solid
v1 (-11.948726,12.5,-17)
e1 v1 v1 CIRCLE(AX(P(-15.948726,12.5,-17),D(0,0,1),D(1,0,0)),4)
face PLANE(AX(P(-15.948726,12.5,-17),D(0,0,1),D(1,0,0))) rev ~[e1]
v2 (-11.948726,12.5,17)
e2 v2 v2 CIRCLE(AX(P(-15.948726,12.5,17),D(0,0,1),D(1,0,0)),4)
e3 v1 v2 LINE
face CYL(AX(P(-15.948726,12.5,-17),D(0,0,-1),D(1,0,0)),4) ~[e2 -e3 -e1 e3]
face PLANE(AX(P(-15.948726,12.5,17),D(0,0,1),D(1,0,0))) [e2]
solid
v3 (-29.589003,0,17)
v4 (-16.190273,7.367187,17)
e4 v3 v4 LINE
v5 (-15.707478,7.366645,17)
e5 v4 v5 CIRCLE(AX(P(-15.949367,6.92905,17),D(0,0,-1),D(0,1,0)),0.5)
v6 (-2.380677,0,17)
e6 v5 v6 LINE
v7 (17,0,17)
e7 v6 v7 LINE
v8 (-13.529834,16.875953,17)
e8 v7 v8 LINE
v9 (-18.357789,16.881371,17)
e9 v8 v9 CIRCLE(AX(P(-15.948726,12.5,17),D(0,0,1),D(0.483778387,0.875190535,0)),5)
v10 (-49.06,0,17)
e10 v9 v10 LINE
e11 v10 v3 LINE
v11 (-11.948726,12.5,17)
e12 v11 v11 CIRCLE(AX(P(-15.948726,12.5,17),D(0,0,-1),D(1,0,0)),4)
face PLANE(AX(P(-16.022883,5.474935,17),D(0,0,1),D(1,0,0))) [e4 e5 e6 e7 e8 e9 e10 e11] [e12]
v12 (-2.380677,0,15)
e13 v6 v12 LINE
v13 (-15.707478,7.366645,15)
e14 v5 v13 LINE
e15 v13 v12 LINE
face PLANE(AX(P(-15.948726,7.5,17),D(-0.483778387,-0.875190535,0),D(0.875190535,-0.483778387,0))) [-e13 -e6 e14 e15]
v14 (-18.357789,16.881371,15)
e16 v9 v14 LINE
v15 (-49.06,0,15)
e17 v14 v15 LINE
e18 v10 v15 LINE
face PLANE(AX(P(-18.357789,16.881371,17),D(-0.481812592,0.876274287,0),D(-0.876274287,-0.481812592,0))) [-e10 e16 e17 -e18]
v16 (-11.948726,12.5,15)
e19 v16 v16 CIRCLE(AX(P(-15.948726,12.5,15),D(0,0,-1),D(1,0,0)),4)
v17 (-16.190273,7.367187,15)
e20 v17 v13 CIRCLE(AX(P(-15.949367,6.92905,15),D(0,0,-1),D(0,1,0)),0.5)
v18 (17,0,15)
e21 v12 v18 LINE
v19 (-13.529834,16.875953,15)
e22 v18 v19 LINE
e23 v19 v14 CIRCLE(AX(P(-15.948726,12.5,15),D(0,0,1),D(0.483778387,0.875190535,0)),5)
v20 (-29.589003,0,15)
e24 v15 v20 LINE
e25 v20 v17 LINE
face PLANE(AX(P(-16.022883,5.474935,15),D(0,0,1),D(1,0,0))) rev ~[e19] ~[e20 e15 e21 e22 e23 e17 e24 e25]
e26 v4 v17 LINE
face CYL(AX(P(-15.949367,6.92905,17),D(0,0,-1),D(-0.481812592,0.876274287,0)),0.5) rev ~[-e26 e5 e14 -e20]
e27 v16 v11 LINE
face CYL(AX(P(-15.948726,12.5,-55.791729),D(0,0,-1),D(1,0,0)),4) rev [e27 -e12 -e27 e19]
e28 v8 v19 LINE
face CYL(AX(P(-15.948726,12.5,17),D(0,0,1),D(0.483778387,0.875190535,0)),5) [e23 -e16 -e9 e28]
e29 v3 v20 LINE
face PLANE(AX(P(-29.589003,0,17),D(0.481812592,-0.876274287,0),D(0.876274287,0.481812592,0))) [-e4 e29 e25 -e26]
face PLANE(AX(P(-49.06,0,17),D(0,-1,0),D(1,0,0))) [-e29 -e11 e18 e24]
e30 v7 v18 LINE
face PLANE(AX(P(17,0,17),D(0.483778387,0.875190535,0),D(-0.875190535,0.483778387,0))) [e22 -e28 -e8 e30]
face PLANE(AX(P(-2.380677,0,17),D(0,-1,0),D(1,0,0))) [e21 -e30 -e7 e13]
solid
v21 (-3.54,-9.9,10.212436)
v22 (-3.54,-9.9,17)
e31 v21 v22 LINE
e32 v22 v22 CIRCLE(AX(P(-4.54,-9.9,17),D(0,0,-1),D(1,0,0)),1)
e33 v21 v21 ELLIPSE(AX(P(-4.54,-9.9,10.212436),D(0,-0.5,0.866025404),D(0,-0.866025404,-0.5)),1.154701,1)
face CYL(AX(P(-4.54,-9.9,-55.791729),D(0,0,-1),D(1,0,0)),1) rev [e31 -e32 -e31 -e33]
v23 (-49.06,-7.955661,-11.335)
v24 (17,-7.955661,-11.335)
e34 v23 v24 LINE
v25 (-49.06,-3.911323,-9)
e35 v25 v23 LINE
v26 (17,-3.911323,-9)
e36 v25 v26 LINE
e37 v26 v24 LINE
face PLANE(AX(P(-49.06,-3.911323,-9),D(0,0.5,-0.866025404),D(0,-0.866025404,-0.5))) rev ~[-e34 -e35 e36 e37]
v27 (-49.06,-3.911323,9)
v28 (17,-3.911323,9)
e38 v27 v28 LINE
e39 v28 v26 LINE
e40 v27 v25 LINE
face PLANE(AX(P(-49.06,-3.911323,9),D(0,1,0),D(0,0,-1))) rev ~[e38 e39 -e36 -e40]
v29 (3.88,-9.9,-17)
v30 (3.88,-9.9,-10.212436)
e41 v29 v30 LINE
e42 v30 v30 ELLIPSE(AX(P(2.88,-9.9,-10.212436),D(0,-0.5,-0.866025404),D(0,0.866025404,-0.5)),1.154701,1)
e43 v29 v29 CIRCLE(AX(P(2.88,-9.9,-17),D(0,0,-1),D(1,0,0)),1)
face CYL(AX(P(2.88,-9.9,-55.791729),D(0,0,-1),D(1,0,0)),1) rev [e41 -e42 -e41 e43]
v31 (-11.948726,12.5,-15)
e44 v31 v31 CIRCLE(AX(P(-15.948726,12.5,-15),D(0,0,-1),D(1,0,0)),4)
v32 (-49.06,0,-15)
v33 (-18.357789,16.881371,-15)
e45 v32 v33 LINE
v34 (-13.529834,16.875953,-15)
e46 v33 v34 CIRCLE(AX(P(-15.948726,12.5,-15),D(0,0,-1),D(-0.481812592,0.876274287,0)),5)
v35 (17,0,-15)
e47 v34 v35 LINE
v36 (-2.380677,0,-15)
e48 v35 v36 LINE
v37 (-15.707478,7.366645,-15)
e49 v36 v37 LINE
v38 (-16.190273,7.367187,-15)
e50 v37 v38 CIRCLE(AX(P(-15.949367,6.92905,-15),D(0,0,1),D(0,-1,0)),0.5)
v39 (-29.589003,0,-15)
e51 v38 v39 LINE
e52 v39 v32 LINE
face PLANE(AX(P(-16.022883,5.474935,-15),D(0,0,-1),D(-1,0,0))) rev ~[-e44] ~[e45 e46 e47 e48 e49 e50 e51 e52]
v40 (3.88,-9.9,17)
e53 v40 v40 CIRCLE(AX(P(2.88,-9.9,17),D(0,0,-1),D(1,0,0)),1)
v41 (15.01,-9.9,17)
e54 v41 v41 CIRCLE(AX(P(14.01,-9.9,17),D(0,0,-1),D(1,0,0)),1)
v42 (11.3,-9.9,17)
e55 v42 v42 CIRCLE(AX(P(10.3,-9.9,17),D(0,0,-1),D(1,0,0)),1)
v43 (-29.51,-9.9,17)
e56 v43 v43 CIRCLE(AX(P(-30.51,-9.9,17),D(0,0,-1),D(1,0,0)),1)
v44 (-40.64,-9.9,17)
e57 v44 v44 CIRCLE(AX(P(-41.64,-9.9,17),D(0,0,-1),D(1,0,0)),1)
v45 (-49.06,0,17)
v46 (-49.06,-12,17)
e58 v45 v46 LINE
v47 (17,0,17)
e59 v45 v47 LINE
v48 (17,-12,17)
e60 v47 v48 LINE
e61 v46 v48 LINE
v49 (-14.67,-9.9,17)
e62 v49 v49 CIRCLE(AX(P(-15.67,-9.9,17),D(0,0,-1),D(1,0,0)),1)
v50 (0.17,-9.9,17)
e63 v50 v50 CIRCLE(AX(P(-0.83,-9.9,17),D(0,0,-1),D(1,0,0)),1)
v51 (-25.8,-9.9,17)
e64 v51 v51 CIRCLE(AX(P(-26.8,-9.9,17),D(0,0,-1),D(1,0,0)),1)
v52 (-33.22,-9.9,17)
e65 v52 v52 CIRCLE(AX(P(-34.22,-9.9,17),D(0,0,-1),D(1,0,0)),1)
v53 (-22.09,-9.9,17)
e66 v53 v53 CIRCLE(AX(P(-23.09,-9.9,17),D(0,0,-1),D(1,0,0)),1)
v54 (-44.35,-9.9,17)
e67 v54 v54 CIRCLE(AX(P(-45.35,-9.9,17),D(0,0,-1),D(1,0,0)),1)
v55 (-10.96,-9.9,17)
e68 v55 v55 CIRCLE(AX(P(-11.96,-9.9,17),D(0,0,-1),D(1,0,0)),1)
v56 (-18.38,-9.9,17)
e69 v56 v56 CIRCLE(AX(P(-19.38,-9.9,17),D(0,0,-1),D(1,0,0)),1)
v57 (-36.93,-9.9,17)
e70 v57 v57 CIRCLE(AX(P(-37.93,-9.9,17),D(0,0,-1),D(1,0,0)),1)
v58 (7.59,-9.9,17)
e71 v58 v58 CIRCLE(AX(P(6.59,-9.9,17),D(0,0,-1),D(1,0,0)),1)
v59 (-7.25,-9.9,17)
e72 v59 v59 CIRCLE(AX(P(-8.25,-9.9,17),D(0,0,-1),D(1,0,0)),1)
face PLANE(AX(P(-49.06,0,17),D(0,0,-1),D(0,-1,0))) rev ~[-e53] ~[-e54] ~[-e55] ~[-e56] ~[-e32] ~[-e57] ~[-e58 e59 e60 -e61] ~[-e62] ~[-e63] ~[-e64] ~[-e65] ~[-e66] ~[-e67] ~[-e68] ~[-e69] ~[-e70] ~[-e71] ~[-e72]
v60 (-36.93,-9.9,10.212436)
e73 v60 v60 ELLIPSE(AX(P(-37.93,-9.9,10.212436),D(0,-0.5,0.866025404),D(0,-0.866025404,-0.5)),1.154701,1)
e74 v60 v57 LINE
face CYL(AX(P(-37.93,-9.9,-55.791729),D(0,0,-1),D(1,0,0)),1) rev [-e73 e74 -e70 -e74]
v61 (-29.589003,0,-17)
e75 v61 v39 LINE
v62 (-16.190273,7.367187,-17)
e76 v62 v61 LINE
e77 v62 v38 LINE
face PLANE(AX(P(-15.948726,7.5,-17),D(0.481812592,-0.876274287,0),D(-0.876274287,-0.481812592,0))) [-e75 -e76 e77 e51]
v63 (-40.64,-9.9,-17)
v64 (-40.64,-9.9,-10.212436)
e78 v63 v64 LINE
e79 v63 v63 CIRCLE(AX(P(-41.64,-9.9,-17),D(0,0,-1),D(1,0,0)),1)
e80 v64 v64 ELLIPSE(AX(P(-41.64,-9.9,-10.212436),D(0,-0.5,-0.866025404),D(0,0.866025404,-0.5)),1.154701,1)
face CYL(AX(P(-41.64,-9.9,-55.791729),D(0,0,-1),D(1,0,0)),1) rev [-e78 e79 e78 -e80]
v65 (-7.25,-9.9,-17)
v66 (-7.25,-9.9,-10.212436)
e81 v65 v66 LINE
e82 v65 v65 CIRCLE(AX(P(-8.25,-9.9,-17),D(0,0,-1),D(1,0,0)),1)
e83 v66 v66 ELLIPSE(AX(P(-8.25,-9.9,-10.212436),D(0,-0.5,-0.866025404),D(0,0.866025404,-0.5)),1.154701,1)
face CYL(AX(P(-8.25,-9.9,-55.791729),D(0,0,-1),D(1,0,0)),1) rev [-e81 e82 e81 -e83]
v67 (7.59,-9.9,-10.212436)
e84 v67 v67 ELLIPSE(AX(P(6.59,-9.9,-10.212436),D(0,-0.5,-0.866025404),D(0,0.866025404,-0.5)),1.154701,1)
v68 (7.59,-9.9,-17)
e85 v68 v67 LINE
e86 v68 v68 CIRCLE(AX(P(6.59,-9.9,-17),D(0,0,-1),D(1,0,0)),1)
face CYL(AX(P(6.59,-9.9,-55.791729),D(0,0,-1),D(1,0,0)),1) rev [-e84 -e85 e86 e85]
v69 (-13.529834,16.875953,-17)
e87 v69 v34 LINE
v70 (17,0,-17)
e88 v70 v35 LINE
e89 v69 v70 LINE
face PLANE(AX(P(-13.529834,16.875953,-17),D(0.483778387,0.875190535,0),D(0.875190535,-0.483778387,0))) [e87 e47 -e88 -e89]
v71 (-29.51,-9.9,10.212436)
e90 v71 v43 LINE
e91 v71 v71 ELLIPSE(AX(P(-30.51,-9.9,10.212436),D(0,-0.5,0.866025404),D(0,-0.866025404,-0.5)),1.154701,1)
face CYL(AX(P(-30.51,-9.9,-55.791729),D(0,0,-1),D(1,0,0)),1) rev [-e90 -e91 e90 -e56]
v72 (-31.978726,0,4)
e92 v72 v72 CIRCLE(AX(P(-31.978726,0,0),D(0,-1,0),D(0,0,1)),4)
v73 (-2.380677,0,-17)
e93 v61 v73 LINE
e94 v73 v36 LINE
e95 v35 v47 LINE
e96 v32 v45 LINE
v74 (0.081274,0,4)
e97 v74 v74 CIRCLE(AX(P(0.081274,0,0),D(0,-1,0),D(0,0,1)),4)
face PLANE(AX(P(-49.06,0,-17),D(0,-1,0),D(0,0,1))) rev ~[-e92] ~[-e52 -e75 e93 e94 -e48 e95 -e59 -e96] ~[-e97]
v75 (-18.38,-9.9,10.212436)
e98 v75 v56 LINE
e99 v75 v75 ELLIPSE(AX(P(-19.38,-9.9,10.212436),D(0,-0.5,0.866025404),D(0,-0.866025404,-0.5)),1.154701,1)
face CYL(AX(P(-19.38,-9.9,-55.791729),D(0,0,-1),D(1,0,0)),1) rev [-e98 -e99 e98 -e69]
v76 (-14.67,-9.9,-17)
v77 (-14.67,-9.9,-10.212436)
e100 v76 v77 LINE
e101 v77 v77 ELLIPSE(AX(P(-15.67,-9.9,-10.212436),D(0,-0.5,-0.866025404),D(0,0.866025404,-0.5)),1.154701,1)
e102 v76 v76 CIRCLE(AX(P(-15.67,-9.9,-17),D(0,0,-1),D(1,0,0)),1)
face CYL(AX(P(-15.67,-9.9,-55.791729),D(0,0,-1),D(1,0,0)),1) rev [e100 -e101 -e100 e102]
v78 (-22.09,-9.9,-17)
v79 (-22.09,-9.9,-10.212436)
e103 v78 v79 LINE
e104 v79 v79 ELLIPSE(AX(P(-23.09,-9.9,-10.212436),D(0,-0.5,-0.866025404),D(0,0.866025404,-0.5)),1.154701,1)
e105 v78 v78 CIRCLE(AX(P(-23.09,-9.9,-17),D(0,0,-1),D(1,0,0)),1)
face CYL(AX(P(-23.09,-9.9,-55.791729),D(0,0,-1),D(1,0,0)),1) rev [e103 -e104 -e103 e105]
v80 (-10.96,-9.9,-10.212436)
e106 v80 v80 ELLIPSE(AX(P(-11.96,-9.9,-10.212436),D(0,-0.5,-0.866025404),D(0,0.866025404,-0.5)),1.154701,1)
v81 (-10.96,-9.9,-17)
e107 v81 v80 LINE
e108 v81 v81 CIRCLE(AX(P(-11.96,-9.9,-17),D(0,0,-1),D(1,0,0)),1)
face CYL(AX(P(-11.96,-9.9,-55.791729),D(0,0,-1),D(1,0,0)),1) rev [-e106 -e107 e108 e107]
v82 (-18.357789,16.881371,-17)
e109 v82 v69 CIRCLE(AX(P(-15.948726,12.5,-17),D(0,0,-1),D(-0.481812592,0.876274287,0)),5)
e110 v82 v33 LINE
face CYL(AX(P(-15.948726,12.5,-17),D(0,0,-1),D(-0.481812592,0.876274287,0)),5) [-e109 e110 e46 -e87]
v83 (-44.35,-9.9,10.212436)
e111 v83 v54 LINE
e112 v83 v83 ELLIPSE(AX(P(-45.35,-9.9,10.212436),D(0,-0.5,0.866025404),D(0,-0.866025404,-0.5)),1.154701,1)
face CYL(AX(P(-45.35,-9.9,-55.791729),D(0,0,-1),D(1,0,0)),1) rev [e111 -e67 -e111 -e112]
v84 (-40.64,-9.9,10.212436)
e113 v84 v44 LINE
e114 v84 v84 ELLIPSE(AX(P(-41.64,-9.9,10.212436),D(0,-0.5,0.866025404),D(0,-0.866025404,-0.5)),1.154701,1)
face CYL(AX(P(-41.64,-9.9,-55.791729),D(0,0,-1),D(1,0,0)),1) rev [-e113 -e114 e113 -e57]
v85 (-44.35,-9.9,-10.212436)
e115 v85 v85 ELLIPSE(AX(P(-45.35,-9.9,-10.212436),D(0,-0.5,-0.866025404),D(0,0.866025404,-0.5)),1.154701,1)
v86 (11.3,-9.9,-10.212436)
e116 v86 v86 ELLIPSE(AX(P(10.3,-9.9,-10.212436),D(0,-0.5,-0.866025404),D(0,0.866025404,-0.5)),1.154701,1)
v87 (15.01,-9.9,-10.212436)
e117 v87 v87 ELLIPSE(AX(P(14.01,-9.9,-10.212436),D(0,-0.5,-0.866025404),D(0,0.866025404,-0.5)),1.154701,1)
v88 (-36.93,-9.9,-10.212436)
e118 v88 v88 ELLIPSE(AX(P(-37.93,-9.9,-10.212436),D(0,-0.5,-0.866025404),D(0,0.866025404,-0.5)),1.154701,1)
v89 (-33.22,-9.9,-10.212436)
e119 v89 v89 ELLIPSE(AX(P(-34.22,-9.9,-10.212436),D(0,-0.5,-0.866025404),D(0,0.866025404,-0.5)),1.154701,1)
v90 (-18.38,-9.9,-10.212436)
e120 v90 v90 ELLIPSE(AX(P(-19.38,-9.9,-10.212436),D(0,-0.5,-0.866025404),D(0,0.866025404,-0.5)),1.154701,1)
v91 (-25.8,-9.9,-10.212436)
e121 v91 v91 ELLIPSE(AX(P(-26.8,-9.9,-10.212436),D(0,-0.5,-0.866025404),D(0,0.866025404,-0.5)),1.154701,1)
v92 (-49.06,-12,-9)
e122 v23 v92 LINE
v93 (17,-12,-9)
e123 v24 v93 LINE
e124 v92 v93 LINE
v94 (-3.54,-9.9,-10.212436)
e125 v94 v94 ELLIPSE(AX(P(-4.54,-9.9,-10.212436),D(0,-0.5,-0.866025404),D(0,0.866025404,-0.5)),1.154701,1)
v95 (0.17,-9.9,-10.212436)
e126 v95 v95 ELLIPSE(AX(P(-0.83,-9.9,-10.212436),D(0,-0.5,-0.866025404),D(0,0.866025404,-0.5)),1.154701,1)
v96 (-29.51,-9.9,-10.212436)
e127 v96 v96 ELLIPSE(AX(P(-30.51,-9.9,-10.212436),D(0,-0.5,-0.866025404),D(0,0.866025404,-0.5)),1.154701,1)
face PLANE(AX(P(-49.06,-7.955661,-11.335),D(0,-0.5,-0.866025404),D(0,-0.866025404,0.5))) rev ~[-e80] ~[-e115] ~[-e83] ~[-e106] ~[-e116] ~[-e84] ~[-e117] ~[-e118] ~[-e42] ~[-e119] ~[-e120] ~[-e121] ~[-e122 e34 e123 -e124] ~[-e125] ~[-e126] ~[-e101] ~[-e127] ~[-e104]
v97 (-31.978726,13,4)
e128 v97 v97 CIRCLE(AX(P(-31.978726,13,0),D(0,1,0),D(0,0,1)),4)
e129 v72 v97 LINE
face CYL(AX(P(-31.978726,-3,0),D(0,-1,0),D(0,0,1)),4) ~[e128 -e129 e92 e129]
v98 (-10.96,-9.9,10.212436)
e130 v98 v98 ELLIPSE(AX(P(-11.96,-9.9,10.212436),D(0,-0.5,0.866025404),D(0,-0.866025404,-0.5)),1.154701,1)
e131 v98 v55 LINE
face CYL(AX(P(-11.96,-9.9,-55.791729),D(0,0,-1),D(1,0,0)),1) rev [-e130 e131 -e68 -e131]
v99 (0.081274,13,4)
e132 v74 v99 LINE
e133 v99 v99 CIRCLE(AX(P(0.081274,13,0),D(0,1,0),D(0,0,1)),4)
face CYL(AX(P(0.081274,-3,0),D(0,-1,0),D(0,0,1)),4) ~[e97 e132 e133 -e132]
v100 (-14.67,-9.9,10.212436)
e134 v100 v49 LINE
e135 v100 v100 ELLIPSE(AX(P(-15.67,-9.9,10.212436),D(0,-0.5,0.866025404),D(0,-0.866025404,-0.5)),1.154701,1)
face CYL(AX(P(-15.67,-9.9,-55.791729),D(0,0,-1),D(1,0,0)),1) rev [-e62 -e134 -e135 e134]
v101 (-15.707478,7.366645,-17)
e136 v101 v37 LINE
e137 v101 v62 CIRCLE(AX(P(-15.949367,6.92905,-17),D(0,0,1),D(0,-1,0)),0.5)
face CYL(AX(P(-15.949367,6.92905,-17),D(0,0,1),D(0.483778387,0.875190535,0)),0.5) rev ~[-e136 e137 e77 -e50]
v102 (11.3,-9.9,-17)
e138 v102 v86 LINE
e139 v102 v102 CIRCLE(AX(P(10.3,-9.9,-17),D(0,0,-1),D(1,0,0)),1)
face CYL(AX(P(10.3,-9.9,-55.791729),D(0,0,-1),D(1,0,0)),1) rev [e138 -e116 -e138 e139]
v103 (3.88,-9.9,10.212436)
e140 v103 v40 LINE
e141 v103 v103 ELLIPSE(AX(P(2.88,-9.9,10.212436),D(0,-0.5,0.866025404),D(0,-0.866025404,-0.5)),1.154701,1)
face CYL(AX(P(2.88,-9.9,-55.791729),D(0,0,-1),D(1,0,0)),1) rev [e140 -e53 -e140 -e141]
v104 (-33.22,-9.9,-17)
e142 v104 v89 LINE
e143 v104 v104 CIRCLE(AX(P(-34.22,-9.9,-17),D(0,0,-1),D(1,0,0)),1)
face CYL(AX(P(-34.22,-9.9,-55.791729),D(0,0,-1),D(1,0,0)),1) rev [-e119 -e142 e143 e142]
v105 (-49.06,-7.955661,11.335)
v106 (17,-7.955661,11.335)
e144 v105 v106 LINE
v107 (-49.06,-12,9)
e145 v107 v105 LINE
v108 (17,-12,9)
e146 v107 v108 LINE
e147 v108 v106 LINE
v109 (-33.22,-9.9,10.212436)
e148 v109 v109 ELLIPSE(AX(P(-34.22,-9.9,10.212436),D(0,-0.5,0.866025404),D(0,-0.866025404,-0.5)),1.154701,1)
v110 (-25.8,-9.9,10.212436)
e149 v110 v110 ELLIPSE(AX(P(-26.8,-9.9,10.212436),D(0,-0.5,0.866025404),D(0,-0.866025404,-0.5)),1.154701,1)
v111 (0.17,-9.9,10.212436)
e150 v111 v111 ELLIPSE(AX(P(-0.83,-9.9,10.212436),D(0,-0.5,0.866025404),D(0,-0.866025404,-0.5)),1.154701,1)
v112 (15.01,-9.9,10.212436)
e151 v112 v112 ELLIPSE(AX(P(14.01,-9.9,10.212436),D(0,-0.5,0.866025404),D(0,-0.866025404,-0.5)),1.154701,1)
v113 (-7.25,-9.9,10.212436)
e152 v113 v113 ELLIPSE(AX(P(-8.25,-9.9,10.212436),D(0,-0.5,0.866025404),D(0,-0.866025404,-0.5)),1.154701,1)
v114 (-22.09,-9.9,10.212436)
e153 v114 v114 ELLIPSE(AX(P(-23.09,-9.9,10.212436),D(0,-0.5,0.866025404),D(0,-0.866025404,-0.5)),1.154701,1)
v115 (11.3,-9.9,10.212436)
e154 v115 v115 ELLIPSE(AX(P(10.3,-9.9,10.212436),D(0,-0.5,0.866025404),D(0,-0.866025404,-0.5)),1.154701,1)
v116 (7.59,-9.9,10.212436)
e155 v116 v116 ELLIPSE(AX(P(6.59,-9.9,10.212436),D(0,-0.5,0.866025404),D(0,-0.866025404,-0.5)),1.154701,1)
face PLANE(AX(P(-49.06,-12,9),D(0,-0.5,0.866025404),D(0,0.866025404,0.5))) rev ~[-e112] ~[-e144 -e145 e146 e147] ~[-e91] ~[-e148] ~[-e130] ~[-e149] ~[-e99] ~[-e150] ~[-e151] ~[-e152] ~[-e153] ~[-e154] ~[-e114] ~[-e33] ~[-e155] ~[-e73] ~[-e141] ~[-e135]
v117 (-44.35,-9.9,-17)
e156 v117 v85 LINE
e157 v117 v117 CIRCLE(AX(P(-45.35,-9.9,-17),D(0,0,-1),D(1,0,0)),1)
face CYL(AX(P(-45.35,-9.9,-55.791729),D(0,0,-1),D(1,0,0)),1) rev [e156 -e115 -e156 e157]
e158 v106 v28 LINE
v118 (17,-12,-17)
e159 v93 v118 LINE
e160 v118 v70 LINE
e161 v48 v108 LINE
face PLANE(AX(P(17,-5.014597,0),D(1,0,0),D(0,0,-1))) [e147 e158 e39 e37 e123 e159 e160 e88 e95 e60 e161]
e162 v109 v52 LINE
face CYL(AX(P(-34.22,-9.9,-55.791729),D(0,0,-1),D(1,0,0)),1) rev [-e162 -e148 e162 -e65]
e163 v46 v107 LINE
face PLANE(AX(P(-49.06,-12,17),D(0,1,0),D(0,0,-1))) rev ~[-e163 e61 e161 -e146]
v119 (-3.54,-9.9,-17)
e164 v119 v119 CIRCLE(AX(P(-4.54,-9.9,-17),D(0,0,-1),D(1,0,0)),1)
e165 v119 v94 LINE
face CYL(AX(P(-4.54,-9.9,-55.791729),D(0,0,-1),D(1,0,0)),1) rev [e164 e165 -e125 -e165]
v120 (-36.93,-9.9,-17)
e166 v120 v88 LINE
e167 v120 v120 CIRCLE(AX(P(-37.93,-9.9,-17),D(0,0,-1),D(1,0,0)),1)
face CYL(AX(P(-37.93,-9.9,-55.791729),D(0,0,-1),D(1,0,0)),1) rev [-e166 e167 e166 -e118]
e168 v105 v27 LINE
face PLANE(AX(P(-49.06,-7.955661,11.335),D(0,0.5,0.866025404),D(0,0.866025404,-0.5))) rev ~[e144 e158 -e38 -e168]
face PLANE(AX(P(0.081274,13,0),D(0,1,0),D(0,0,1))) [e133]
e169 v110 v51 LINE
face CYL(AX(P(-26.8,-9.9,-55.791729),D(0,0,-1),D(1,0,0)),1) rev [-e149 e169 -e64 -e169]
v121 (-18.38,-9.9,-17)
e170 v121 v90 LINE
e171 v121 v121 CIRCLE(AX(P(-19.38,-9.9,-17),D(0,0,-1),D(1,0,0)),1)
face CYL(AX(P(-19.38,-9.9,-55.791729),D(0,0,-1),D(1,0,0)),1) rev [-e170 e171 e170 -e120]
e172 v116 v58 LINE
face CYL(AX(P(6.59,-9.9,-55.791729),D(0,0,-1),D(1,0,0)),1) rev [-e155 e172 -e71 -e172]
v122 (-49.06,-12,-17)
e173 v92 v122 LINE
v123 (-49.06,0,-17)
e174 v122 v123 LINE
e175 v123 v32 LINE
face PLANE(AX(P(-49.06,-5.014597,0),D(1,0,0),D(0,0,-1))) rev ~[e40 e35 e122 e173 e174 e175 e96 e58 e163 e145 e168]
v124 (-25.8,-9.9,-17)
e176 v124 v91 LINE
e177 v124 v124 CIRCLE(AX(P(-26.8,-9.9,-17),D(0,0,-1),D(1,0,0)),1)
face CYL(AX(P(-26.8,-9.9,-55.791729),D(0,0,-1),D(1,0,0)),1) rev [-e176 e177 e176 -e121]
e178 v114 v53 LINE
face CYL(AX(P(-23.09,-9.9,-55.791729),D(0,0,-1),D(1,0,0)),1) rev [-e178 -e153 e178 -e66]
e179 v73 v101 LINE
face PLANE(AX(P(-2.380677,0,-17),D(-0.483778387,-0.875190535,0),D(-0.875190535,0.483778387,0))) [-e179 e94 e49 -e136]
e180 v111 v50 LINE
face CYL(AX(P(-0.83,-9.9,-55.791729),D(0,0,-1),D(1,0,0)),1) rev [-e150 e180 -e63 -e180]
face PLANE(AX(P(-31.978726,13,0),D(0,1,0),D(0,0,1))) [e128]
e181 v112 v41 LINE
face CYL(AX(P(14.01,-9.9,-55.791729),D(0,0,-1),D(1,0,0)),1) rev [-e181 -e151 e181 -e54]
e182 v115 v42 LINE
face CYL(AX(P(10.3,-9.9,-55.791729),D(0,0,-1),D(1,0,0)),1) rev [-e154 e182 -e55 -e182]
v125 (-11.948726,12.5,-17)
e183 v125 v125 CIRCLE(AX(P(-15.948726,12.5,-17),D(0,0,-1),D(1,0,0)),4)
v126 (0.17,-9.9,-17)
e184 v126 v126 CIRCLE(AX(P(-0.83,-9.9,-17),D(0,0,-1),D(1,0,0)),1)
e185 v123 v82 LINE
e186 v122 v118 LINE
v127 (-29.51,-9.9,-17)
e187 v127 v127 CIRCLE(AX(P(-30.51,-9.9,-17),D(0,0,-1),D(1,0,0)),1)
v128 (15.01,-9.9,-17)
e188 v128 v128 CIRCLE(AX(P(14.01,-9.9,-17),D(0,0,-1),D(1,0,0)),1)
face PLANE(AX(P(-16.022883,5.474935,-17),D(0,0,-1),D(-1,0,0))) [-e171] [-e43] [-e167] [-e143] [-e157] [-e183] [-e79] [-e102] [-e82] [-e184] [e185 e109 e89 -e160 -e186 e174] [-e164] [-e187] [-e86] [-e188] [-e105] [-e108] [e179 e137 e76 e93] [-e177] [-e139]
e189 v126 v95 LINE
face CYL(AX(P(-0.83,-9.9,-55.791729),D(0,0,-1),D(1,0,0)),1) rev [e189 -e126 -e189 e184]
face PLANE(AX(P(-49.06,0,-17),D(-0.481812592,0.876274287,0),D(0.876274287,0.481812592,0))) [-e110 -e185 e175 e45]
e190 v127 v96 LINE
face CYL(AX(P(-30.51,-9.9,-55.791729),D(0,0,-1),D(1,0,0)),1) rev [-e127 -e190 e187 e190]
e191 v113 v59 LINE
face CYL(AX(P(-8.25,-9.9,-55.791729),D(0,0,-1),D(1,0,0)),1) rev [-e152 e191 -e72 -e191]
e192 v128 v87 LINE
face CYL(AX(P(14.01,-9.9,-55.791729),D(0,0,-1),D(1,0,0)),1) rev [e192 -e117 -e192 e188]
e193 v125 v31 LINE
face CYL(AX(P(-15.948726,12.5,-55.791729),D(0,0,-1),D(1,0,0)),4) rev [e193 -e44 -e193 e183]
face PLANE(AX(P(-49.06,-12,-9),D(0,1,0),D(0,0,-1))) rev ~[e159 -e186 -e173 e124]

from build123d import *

# Parameters (mm, degrees)
BOSS_EXTRUDE3_DEPTH        = 13
BOSS_EXTRUDE3_DEPTH_BACK   = 3
SKETCH1_R                  = 4
BOSS_EXTRUDE3_2_DEPTH      = 13
BOSS_EXTRUDE3_2_DEPTH_BACK = 3
BOSS_EXTRUDE4_DEPTH        = 17
BOSS_EXTRUDE4_DEPTH_BACK   = 17
SKETCH4_R                  = 4
BOSS_EXTRUDE5_DEPTH        = 17
BOSS_EXTRUDE5_DEPTH_BACK   = 49.06
BOSS_EXTRUDE6_DEPTH        = 2
BOSS_EXTRUDE8_DEPTH        = 2
CUT_EXTRUDE1_DEPTH         = 55.791729303
CUT_EXTRUDE1_DEPTH_BACK    = 55.791729303
SKETCH4_3_R                = 4
FILLET1_R                  = 0.5
FILLET2_R                  = 0.5
CUT_EXTRUDE2_DEPTH         = 55.791729303
CUT_EXTRUDE2_DEPTH_BACK    = 55.791729303
SKETCH9_R                  = 1


with BuildPart() as part:
    # Sketch1 → Boss-Extrude3 (new, two sides: drawn at the far end of the back side and taken through both)
    with BuildSketch(Plane(origin=(0, 0, 0), x_dir=(1, 0, 0), z_dir=(0, 1, 0)).offset(-BOSS_EXTRUDE3_DEPTH_BACK)):
        with Locations((-31.978726334, 0)):
            Circle(SKETCH1_R)
    extrude(amount=BOSS_EXTRUDE3_DEPTH + BOSS_EXTRUDE3_DEPTH_BACK)



with BuildPart() as body_2:
    # Sketch1 → Boss-Extrude3 2 (new, two sides: drawn at the far end of the back side and taken through both)
    with BuildSketch(Plane(origin=(0, 0, 0), x_dir=(1, 0, 0), z_dir=(0, 1, 0)).offset(-BOSS_EXTRUDE3_2_DEPTH_BACK)):
        with Locations((0.081273666, 0)):
            Circle(SKETCH1_R)
    extrude(amount=BOSS_EXTRUDE3_2_DEPTH + BOSS_EXTRUDE3_2_DEPTH_BACK)


with BuildPart() as body_3:
    # Sketch4 → Boss-Extrude4 (new, two sides: drawn at the far end of the back side and taken through both)
    with BuildSketch(Plane.XY.offset(-BOSS_EXTRUDE4_DEPTH_BACK)):
        with Locations((-15.948726334, 12.5)):
            Circle(SKETCH4_R)
    extrude(amount=BOSS_EXTRUDE4_DEPTH + BOSS_EXTRUDE4_DEPTH_BACK)


with BuildPart() as part_1:
    add(part.part)

    add(body_2.part)  # Boss-Extrude5 merges body 2
    # Sketch3 → Boss-Extrude5 (add, two sides: drawn at the far end of the back side and taken through both)
    with BuildSketch(Plane(origin=(0, 0, 0), x_dir=(0, 0, -1), z_dir=(1, 0, 0)).offset(-BOSS_EXTRUDE5_DEPTH_BACK)):
        Polygon((-17, 0), (-17, -12), (-9, -12), (-11.335, -7.955661364), (-9, -3.911322729), (9, -3.911322729), (11.335, -7.955661364), (9, -12), (17, -12), (17, 0), align=None)
    extrude(amount=BOSS_EXTRUDE5_DEPTH + BOSS_EXTRUDE5_DEPTH_BACK)

    # Sketch8 → Boss-Extrude8 (add)
    with BuildSketch(Plane(origin=(0, 0, -17), x_dir=(-1, 0, 0), z_dir=(0, 0, -1))):
        with BuildLine():
            Line((13.529834398, 16.875952674), (-17, 0))
            Line((-17, 0), (2.380677027, 0))
            Line((2.380677027, 0), (15.948726334, 7.5))
            Line((15.948726334, 7.5), (29.589003202, 0))
            Line((29.589003202, 0), (49.06, 0))
            Line((49.06, 0), (18.357789294, 16.881371435))
            ThreePointArc((18.357789294, 16.881371435), (15.943114477, 17.499996851), (13.529834398, 16.875952674))
        make_face()
    extrude(amount=-BOSS_EXTRUDE8_DEPTH)


with BuildPart() as body_3_2:
    # Sketch6 → Boss-Extrude6 (new body)
    with BuildSketch(Plane.XY.offset(17)):
        with BuildLine():
            Line((-18.357789294, 16.881371435), (-49.06, 0))
            Line((-49.06, 0), (-29.589003202, 0))
            Line((-29.589003202, 0), (-15.948726334, 7.5))
            Line((-15.948726334, 7.5), (-2.380677027, 0))
            Line((-2.380677027, 0), (17, 0))
            Line((17, 0), (-13.529834398, 16.875952674))
            ThreePointArc((-13.529834398, 16.875952674), (-15.943114477, 17.499996851), (-18.357789294, 16.881371435))
        make_face()
    extrude(amount=-BOSS_EXTRUDE6_DEPTH)


with BuildPart() as cut_extrude1_tool:
    # Sketch4<3> → Cut-Extrude1 (new, two sides: drawn at the far end of the back side and taken through both)
    with BuildSketch(Plane.XY.offset(-CUT_EXTRUDE1_DEPTH_BACK)):
        with Locations((-15.948726334, 12.5)):
            Circle(SKETCH4_3_R)
    extrude(amount=CUT_EXTRUDE1_DEPTH + CUT_EXTRUDE1_DEPTH_BACK)


with BuildPart() as body_3_2_1:
    add(body_3_2.part)

    # Cut-Extrude1: cut by cut_extrude1_tool
    add(cut_extrude1_tool.part, mode=Mode.SUBTRACT)

    # Fillet2
    fillet2_edges = [body_3_2_1.edges().sort_by_distance(p)[0] for p in [
        (-15.948726334, 7.5, 16),
    ]]
    fillet(fillet2_edges, radius=FILLET2_R)


with BuildPart() as part_2:
    add(part_1.part)

    # Cut-Extrude1: cut by cut_extrude1_tool
    add(cut_extrude1_tool.part, mode=Mode.SUBTRACT)

    # Fillet1
    fillet1_edges = [part_2.edges().sort_by_distance(p)[0] for p in [
        (-15.948726334, 7.5, -16),
    ]]
    fillet(fillet1_edges, radius=FILLET1_R)

    # Sketch9 → Cut-Extrude2 (cut, two sides: drawn at the far end of the back side and taken through both)
    with BuildSketch(Plane.XY.offset(-CUT_EXTRUDE2_DEPTH_BACK)):
        with Locations((-45.35, -9.9)):
            Circle(SKETCH9_R)
        with Locations((-37.93, -9.9)):
            Circle(SKETCH9_R)
        with Locations((-23.09, -9.9)):
            Circle(SKETCH9_R)
        with Locations((-15.67, -9.9)):
            Circle(SKETCH9_R)
        with Locations((-41.64, -9.9)):
            Circle(SKETCH9_R)
        with Locations((-30.51, -9.9)):
            Circle(SKETCH9_R)
        with Locations((-19.38, -9.9)):
            Circle(SKETCH9_R)
        with Locations((-34.22, -9.9)):
            Circle(SKETCH9_R)
        with Locations((-26.8, -9.9)):
            Circle(SKETCH9_R)
        with Locations((-11.96, -9.9)):
            Circle(SKETCH9_R)
        with Locations((-8.25, -9.9)):
            Circle(SKETCH9_R)
        with Locations((-4.54, -9.9)):
            Circle(SKETCH9_R)
        with Locations((-0.83, -9.9)):
            Circle(SKETCH9_R)
        with Locations((2.88, -9.9)):
            Circle(SKETCH9_R)
        with Locations((6.59, -9.9)):
            Circle(SKETCH9_R)
        with Locations((10.3, -9.9)):
            Circle(SKETCH9_R)
        with Locations((14.01, -9.9)):
            Circle(SKETCH9_R)
    extrude(amount=CUT_EXTRUDE2_DEPTH + CUT_EXTRUDE2_DEPTH_BACK, mode=Mode.SUBTRACT)


solid = Compound([body_3.part, body_3_2_1.part, part_2.part])
